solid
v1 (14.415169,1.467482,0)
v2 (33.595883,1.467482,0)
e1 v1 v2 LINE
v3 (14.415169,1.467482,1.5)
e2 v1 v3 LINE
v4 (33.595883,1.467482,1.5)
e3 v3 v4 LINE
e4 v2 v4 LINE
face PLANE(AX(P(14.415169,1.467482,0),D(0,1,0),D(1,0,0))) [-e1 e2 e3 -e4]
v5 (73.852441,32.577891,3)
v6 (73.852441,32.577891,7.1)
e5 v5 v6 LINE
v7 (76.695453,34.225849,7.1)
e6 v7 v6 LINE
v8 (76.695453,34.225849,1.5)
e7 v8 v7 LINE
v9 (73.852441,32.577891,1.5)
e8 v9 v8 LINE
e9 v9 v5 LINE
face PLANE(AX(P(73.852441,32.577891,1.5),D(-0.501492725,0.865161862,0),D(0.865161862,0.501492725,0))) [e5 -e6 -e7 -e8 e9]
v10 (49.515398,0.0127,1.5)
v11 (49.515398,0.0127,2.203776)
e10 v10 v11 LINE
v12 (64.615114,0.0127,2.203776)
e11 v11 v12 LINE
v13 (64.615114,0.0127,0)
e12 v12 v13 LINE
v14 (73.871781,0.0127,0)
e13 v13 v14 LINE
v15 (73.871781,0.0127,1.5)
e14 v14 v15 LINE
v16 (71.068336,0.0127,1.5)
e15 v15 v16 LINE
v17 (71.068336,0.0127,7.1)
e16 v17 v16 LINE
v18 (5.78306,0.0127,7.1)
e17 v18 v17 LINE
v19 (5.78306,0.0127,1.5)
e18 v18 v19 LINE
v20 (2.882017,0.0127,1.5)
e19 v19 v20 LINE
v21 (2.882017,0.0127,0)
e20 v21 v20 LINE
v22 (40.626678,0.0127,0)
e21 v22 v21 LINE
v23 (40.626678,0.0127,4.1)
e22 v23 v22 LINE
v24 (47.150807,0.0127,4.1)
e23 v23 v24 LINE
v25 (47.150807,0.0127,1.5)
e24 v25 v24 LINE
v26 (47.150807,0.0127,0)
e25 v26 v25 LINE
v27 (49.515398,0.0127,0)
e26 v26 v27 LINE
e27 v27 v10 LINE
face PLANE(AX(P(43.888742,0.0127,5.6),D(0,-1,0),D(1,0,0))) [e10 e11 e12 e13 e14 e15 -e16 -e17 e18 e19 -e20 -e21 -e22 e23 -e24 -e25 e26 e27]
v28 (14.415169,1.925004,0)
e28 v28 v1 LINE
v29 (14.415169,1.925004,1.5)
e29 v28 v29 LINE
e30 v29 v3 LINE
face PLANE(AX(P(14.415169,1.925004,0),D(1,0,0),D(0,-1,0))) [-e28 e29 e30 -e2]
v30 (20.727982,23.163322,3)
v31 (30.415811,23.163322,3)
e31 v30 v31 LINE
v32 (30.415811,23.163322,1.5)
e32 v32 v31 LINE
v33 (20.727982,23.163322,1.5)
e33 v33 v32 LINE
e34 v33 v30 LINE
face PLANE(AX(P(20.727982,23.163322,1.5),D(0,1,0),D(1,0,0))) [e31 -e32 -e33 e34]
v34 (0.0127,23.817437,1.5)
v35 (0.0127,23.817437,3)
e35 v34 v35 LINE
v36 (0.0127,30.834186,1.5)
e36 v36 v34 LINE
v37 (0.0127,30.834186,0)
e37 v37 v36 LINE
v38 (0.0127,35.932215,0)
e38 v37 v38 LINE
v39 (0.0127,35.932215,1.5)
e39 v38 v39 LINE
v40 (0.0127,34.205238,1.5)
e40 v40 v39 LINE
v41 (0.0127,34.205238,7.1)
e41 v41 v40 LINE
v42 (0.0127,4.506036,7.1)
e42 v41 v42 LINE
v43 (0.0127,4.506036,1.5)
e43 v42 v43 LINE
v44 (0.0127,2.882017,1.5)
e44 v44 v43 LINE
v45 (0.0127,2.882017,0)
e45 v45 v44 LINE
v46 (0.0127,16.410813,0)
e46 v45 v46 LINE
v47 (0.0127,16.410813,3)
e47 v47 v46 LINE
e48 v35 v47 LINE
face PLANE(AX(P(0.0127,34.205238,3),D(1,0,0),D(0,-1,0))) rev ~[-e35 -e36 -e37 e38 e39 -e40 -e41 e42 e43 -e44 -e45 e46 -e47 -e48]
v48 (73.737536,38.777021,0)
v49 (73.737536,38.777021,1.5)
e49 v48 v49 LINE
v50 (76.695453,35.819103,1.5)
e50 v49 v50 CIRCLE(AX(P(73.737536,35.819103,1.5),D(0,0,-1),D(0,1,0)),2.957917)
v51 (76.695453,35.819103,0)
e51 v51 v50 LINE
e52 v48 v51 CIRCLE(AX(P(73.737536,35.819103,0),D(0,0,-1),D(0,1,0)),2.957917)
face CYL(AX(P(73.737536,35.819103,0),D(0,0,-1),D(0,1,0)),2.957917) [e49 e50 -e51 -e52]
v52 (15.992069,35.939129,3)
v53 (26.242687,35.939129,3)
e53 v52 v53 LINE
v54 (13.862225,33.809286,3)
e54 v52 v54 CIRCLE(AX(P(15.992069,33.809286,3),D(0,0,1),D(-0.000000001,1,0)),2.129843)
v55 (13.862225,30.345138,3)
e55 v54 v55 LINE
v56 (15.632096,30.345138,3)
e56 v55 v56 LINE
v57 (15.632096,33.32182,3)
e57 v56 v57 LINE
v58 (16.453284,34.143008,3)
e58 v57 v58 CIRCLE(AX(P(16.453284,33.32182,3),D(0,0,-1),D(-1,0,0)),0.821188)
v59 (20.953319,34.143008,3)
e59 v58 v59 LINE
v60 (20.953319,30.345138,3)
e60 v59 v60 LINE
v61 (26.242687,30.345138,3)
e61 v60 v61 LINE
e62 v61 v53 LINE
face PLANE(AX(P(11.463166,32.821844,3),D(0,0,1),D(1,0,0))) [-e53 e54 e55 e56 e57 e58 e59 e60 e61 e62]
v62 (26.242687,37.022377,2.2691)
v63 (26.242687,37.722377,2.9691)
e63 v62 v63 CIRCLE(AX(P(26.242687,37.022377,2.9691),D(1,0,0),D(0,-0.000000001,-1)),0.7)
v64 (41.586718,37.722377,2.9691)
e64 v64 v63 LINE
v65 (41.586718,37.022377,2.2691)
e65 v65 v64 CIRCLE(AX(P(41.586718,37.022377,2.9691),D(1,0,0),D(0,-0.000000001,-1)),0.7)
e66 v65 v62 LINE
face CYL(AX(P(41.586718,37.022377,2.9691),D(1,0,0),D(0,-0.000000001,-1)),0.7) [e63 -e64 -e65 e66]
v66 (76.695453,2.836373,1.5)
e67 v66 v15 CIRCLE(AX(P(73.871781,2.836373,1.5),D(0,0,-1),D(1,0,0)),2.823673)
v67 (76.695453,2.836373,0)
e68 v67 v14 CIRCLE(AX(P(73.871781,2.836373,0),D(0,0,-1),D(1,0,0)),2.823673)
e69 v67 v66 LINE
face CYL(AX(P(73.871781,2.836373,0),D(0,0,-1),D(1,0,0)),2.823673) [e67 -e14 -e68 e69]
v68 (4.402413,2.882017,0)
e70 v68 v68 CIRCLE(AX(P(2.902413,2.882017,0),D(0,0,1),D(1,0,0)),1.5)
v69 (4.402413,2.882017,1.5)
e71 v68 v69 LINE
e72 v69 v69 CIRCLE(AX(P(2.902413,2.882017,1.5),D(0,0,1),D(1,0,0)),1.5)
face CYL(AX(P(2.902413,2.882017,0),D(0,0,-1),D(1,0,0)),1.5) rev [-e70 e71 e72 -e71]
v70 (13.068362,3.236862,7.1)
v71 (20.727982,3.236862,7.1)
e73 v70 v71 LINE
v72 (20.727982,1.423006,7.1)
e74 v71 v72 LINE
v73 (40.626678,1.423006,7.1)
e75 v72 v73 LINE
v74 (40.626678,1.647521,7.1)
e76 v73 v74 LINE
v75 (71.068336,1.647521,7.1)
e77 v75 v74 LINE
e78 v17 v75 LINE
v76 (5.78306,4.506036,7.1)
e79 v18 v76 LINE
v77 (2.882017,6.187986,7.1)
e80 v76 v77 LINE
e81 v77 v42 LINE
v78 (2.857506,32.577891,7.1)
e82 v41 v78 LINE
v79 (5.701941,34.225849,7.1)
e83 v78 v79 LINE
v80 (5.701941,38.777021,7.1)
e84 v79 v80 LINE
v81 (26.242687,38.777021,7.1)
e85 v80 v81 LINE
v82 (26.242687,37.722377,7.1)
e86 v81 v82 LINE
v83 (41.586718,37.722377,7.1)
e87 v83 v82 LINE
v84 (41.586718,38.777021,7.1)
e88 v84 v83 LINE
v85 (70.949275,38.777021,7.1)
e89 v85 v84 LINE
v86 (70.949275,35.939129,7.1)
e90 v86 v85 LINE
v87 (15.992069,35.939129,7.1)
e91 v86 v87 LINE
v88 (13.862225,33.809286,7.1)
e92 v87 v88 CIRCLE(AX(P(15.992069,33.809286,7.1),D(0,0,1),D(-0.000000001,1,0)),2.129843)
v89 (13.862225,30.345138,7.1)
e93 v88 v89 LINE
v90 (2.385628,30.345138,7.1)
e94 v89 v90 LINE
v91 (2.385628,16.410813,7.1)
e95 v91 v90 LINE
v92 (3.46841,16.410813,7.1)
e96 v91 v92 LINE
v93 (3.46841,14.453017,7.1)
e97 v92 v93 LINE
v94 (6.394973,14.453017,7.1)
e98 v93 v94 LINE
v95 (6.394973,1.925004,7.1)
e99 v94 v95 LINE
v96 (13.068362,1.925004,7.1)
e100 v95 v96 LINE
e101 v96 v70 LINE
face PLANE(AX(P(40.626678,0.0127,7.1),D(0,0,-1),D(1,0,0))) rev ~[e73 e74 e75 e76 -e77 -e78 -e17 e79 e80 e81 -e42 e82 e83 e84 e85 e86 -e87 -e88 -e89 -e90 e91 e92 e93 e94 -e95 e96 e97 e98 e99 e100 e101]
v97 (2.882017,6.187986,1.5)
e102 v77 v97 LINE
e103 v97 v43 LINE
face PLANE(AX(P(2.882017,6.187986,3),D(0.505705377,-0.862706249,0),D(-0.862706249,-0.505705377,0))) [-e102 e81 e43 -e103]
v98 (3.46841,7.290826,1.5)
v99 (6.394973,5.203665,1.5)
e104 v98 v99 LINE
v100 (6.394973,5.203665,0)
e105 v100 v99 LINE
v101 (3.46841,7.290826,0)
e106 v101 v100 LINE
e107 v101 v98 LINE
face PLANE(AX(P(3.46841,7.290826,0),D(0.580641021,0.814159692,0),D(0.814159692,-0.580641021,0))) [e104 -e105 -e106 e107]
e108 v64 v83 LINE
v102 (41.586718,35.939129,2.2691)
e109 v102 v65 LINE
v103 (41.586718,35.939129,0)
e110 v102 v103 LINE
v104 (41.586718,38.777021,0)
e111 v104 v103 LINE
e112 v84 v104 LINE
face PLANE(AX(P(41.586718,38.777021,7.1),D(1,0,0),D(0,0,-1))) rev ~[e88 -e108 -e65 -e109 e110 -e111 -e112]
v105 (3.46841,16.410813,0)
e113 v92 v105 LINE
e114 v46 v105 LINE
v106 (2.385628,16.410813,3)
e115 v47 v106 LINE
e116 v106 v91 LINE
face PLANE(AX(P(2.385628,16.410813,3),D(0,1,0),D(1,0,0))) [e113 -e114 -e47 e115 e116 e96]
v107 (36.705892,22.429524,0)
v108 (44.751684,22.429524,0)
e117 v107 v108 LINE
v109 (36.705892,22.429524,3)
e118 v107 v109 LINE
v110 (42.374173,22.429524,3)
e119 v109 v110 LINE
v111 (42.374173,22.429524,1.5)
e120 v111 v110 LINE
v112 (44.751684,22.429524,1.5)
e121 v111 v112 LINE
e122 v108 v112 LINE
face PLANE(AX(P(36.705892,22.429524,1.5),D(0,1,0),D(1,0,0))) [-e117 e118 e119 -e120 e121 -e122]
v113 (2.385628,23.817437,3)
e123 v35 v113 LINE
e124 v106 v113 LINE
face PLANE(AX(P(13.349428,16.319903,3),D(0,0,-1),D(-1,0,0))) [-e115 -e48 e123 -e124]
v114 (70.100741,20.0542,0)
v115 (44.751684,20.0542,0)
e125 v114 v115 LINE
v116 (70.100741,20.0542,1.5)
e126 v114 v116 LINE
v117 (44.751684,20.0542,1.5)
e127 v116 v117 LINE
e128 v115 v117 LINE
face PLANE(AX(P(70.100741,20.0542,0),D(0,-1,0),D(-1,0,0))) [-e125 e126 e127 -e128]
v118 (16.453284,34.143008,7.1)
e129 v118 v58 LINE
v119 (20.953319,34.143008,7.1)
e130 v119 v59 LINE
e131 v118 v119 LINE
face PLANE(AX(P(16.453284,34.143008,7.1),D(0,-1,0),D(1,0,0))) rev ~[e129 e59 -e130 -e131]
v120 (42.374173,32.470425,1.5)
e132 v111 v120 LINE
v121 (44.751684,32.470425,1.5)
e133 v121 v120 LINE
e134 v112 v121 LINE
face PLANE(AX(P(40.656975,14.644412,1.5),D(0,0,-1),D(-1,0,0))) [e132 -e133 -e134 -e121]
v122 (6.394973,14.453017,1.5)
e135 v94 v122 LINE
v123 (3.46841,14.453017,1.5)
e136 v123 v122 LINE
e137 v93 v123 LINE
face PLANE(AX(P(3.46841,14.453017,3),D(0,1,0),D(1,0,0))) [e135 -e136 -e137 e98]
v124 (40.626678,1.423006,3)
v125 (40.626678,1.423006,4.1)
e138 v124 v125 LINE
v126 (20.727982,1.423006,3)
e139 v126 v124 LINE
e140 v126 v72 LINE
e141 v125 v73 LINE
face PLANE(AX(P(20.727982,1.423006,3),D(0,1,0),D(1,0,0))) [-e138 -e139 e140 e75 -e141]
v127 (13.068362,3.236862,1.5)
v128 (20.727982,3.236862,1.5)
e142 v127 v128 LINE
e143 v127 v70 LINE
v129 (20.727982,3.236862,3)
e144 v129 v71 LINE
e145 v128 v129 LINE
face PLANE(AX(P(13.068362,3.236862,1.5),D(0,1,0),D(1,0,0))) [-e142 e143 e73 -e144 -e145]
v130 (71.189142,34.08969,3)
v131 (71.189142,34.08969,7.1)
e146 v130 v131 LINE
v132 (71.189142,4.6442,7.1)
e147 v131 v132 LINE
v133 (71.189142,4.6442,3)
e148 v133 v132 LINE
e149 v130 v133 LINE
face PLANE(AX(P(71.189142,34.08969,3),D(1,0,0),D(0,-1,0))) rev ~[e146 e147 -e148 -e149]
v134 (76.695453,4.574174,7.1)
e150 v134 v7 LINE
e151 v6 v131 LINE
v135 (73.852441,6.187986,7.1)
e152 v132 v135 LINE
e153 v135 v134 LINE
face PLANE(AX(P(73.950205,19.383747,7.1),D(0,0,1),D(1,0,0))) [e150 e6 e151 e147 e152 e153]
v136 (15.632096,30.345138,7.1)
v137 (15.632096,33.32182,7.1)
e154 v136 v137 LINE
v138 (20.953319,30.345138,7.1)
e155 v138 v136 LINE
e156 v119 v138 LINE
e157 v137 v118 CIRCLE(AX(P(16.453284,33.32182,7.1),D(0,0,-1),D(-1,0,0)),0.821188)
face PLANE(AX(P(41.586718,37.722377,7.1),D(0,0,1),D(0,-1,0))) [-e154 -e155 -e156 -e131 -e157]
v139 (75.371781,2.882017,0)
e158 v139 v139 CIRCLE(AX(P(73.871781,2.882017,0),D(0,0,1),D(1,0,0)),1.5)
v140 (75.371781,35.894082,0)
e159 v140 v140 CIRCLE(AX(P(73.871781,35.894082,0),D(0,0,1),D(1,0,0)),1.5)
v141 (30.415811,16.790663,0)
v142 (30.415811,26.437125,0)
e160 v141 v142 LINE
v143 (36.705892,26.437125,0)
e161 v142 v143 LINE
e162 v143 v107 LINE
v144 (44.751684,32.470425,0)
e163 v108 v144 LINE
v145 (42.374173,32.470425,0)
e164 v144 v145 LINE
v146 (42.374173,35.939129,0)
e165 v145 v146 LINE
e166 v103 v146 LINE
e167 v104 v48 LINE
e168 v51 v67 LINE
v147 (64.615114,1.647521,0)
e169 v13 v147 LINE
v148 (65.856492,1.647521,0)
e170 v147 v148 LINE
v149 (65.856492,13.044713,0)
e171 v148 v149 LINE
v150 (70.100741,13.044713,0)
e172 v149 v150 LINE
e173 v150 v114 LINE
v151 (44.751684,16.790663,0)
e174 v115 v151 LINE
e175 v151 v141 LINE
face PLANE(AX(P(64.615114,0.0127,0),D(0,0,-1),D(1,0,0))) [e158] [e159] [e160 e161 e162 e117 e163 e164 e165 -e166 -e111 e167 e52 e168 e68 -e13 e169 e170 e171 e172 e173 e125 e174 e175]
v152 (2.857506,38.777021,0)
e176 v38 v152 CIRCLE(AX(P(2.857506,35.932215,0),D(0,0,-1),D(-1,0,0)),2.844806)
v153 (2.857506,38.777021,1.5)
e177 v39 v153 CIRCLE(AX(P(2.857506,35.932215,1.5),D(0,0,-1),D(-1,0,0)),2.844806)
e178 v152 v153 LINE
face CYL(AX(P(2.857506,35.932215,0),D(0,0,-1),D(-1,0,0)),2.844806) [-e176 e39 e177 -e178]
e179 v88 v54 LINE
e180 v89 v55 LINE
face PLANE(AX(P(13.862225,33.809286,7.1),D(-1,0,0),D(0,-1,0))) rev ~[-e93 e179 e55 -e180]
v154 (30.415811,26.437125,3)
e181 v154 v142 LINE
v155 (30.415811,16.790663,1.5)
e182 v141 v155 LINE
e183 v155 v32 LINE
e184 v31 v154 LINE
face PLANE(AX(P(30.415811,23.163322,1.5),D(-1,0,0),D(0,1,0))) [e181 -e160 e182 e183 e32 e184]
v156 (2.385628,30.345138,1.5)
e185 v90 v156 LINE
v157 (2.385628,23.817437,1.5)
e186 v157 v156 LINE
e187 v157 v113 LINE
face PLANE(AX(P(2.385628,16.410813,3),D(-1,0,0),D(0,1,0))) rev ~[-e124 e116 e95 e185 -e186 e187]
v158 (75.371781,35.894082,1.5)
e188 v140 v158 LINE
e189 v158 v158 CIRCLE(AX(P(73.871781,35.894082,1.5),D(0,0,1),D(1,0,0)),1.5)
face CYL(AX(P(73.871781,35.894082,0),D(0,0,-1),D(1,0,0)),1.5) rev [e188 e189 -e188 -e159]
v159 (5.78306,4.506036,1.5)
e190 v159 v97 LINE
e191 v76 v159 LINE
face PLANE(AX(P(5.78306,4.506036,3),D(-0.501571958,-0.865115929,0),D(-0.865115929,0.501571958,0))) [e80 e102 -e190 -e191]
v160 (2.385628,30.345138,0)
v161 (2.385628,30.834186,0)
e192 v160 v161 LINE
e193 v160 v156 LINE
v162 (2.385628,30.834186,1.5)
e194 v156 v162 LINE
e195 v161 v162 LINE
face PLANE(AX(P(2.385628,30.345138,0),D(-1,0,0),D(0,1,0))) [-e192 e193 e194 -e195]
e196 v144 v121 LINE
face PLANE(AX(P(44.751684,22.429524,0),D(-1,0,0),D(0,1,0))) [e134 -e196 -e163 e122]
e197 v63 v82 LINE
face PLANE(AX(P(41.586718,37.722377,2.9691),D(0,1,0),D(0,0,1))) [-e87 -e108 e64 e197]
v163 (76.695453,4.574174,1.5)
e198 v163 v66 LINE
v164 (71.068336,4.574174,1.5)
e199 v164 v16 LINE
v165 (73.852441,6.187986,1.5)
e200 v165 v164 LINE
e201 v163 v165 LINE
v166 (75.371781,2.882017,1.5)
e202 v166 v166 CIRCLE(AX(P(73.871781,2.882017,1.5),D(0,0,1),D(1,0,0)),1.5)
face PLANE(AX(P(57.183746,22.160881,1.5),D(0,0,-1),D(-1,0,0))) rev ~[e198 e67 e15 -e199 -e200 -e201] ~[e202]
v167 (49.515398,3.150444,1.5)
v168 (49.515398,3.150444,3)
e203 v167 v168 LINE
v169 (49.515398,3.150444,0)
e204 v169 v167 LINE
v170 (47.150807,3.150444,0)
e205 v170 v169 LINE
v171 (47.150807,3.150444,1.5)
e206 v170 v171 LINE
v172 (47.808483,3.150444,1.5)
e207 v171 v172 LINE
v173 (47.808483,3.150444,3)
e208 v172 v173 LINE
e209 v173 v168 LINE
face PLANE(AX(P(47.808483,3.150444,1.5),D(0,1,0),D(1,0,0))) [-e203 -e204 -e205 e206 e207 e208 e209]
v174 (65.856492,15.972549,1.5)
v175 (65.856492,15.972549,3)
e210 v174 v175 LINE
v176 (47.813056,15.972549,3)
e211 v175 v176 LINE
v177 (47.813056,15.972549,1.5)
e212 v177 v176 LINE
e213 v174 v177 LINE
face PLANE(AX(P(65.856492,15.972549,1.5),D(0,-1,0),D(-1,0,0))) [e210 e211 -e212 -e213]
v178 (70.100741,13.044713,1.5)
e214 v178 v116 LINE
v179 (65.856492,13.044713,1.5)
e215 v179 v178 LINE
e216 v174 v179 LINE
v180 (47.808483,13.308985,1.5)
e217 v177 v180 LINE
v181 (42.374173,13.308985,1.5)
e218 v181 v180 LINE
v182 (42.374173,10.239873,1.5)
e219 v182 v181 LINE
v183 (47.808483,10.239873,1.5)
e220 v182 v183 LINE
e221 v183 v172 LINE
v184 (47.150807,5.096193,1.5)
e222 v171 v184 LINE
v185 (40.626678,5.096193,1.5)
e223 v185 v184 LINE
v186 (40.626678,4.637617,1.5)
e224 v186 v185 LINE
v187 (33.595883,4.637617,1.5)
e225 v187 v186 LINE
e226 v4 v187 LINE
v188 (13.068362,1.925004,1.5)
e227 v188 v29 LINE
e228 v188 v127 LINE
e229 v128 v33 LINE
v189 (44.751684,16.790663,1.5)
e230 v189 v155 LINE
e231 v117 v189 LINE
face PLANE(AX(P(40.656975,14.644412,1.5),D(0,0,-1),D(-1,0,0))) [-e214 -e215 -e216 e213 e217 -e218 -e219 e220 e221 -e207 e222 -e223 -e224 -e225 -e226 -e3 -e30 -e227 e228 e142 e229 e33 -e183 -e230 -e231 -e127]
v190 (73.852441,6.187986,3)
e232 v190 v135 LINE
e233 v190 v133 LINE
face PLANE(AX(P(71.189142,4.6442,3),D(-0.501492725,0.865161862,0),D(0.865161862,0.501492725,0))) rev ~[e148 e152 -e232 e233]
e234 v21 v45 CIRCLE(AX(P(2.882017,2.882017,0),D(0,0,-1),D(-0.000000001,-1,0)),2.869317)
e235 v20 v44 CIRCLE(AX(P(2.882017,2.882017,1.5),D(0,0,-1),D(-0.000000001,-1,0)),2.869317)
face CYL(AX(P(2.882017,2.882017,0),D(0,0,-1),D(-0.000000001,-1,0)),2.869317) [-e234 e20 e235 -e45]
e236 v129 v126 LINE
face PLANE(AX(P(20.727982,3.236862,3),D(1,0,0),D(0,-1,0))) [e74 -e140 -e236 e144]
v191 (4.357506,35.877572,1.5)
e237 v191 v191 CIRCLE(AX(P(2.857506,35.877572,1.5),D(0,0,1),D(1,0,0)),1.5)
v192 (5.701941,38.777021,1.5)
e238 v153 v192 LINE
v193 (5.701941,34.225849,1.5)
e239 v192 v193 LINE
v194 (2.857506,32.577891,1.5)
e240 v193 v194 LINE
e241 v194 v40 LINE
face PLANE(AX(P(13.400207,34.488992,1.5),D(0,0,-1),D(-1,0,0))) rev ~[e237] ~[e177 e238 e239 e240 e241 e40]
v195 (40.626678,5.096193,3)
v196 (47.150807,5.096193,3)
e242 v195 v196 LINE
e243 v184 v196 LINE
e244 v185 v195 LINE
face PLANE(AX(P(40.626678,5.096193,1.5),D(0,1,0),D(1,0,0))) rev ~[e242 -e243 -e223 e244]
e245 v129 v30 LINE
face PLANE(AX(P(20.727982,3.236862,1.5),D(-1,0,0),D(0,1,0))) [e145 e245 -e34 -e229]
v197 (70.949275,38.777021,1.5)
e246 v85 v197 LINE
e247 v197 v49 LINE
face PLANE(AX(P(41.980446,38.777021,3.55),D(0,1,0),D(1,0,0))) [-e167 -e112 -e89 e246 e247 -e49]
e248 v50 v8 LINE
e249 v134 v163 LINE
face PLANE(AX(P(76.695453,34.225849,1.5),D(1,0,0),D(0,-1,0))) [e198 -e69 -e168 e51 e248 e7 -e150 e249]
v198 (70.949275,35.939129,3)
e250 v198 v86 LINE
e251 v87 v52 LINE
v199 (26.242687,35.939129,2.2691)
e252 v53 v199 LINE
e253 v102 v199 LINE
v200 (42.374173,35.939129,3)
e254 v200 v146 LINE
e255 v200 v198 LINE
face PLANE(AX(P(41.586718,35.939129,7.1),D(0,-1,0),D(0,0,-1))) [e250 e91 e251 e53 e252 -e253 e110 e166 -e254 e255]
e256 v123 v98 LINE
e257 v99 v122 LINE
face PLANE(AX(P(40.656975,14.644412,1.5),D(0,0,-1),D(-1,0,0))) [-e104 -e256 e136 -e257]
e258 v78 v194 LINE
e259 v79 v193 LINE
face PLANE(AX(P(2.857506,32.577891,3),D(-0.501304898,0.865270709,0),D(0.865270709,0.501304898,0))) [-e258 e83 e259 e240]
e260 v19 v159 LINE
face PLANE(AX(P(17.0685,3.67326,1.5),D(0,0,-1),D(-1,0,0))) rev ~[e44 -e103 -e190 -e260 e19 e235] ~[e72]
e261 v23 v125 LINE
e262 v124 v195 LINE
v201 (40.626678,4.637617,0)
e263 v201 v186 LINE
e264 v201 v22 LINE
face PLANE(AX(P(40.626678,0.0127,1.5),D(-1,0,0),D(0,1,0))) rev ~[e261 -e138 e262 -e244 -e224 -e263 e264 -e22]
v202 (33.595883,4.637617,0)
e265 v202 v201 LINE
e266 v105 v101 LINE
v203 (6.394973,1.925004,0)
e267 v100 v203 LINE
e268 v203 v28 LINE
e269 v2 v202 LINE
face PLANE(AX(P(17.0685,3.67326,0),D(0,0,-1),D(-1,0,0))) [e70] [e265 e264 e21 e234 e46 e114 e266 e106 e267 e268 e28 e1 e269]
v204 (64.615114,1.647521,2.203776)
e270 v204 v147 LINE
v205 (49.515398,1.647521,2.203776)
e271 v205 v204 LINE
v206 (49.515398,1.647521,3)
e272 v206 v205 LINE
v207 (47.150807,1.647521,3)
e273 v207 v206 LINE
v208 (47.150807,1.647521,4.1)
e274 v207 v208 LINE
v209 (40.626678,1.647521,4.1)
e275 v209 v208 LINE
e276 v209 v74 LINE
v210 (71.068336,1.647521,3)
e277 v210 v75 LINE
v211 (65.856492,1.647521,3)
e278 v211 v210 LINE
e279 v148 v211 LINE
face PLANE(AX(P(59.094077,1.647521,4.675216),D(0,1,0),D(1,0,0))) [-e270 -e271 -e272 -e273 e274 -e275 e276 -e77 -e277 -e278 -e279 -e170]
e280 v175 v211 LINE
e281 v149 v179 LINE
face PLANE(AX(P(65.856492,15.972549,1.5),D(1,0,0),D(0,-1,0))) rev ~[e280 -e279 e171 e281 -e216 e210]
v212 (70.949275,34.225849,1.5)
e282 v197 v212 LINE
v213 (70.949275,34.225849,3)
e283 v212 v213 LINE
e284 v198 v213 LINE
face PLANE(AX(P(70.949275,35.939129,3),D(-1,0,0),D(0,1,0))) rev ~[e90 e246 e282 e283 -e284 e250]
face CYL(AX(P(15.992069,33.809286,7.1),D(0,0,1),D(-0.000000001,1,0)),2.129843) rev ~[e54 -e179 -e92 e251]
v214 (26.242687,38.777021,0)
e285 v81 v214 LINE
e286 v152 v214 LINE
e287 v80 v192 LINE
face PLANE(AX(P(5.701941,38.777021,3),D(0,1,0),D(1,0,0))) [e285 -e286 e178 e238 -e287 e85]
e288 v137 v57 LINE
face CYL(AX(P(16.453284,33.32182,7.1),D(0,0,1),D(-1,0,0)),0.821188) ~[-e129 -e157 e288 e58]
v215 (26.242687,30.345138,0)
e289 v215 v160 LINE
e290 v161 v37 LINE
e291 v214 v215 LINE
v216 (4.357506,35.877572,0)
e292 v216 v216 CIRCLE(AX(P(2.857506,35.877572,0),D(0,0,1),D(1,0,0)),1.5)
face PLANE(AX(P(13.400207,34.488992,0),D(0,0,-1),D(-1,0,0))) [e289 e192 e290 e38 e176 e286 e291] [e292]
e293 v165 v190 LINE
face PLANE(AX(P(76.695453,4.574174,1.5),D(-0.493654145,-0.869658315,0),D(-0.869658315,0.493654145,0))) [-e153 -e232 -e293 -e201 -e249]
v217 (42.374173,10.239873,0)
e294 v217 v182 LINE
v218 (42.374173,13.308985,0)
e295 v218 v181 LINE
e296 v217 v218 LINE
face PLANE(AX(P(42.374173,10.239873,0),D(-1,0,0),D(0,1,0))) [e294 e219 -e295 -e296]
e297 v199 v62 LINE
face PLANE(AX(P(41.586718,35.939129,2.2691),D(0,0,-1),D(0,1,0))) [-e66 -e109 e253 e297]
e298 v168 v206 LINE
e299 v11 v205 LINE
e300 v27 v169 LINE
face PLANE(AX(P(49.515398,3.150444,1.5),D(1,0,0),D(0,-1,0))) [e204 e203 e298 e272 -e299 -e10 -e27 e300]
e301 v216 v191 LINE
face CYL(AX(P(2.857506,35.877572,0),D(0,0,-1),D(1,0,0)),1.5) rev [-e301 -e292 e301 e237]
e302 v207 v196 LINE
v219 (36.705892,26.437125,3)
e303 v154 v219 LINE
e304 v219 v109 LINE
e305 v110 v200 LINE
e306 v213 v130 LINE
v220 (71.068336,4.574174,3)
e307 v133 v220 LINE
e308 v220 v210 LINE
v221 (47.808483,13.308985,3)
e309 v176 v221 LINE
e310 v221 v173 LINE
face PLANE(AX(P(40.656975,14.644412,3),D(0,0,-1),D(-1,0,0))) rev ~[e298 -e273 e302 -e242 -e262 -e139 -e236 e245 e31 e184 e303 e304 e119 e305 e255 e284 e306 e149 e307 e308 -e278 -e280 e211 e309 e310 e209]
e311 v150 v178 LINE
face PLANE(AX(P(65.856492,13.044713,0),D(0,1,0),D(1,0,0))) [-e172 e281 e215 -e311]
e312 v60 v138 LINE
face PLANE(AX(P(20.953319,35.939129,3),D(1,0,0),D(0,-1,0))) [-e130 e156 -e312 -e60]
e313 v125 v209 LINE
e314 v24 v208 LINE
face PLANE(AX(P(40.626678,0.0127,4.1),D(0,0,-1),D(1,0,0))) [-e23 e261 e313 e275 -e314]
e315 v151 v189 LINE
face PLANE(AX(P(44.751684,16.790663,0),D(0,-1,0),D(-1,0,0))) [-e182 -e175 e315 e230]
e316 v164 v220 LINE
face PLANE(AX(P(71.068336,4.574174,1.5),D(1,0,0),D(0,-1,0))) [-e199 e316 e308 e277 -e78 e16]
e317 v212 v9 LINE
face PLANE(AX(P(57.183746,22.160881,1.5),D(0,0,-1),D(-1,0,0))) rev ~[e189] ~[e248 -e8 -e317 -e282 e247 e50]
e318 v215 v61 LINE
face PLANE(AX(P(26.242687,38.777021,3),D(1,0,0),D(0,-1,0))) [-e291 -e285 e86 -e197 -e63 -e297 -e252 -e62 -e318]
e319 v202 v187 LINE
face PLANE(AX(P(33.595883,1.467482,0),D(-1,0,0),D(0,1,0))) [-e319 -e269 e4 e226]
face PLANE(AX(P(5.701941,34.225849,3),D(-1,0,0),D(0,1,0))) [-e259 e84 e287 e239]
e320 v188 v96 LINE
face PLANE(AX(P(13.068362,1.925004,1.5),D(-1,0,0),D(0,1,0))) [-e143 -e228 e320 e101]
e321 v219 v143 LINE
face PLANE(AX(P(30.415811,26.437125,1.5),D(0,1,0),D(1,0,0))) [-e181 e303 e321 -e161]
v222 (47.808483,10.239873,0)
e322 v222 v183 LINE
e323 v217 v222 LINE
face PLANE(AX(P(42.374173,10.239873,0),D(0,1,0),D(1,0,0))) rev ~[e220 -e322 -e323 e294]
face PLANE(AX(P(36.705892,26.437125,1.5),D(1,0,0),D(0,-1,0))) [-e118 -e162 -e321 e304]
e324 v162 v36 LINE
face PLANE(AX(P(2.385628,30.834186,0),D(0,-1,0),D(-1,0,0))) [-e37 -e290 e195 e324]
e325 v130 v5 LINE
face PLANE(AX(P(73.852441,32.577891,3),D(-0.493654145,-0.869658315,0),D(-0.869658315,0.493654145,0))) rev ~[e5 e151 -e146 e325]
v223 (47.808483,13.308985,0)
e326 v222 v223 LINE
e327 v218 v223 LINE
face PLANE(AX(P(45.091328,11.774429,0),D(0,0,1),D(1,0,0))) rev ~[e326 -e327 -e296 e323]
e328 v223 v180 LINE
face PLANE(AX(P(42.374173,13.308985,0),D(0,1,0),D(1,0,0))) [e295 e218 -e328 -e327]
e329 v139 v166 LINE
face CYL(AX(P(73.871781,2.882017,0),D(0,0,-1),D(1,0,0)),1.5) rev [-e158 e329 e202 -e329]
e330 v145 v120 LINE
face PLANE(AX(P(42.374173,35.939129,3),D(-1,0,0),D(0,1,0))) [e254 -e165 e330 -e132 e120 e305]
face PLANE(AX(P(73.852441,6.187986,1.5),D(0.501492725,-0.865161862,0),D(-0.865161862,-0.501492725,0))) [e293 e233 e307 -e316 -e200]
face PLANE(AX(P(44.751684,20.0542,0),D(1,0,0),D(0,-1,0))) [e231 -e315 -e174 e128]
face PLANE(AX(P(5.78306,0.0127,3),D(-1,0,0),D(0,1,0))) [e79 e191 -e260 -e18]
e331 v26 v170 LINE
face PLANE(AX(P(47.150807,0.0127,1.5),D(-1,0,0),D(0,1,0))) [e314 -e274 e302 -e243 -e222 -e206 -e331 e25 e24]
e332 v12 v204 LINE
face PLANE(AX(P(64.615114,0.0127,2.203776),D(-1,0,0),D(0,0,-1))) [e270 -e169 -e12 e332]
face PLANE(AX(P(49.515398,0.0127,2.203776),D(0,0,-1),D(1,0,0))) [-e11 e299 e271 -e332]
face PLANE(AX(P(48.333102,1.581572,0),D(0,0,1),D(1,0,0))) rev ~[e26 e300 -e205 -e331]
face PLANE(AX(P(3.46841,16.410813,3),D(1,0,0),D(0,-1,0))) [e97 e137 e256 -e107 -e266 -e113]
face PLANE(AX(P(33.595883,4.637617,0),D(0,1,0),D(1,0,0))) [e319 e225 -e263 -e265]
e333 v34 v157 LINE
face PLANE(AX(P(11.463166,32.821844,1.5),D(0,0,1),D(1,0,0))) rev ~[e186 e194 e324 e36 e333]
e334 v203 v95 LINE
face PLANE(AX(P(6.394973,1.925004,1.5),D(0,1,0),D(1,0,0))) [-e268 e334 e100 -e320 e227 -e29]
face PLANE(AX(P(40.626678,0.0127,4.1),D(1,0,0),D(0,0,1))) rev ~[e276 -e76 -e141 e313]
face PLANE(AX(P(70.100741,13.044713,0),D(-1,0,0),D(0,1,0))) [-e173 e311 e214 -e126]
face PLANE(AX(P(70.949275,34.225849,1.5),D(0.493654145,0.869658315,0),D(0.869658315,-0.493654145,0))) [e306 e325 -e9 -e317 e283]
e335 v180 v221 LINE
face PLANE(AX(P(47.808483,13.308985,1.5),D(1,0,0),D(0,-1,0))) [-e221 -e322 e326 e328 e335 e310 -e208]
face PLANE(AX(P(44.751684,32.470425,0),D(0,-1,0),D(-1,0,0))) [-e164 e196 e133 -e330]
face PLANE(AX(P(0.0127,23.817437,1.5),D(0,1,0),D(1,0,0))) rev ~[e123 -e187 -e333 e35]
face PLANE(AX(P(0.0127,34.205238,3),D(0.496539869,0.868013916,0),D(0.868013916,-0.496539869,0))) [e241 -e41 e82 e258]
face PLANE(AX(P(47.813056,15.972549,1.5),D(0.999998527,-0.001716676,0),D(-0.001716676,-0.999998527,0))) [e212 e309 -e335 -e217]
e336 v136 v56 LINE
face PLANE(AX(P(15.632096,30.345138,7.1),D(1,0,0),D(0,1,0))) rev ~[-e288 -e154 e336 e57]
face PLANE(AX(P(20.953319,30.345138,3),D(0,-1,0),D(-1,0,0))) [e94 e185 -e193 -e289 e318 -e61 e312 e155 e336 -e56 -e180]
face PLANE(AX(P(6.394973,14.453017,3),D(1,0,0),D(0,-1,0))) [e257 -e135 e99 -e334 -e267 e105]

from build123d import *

# Parameters (mm, degrees)
SKETCH_1_R          = 1.5
EXTRUDE_1_DEPTH     = 1.5
EXTRUDE_1_2_DEPTH   = 1.5
EXTRUDE_1_3_DEPTH   = 1.5
SKETCH_1_W          = 5.434310226
SKETCH_1_H          = 3.069112814
EXTRUDE_1_4_DEPTH   = 1.5
SKETCH_1_W_2        = 2.364591514
SKETCH_1_H_2        = 3.137743857
EXTRUDE_1_5_DEPTH   = 1.5
EXTRUDE_2_DEPTH     = 1.5
SKETCH_5_W          = 28.57510237
SKETCH_5_H          = 2.837891342
SKETCH_5_W_2        = 23.917529704
SKETCH_5_H_2        = 1.634820582
EXTRUDE_3_DEPTH     = 4.1
SKETCH_6_W          = 0.787454543
SKETCH_6_H          = 7.1
EXTRUDE_4_DEPTH     = 2.837891342
EXTRUDE_5_DEPTH     = 15.344031237
CUT_EXTRUDE_1_DEPTH = 4.1
EXTRUDE_6_DEPTH     = 1.634820582
EXTRUDE_7_REACH     = 88.228
SKETCH_10_W         = 6.524128353
SKETCH_10_H         = 3


with BuildPart() as part:
    # 草图1 → 凸台-拉伸1 (new body)
    with BuildSketch(Plane.XY):
        with BuildLine():
            Line((42.374172917, 38.777020574), (73.737536195, 38.777020574))
            ThreePointArc((73.737536195, 38.777020574), (75.829099502, 37.910666686), (76.695453391, 35.819103378))
            Line((76.695453391, 35.819103378), (76.695453391, 2.836372873))
            ThreePointArc((76.695453391, 2.836372873), (75.868418762, 0.839734655), (73.871780544, 0.012700025))
            Line((73.871780544, 0.012700025), (65.856491688, 0.012700025))
            Line((65.856491688, 0.012700025), (65.856491688, 13.044712807))
            Line((65.856491688, 13.044712807), (70.100741351, 13.044712807))
            Line((70.100741351, 13.044712807), (70.100741351, 20.05420005))
            Line((70.100741351, 20.05420005), (44.751683648, 20.05420005))
            Line((44.751683648, 20.05420005), (44.751683648, 16.790663202))
            Line((44.751683648, 16.790663202), (30.415811039, 16.790663202))
            Line((30.415811039, 16.790663202), (30.415811039, 26.437124649))
            Line((30.415811039, 26.437124649), (36.705891976, 26.437124649))
            Line((36.705891976, 26.437124649), (36.705891976, 22.429523721))
            Line((36.705891976, 22.429523721), (44.751683648, 22.429523721))
            Line((44.751683648, 22.429523721), (44.751683648, 32.470424916))
            Line((44.751683648, 32.470424916), (42.374172917, 32.470424916))
            Line((42.374172917, 32.470424916), (42.374172917, 38.777020574))
        make_face()
        with Locations((73.871780544, 2.882016764)):
            Circle(SKETCH_1_R, mode=Mode.SUBTRACT)
        with Locations((73.871780544, 35.894081788)):
            Circle(SKETCH_1_R, mode=Mode.SUBTRACT)
    extrude(amount=EXTRUDE_1_DEPTH)



with BuildPart() as body_2:
    # 草图1 → Extrude 1 2 (new body)
    with BuildSketch(Plane.XY):
        with BuildLine():
            Line((20.832405991, 0.012700025), (2.882016764, 0.012700025))
            ThreePointArc((2.882016764, 0.012700025), (0.853103441, 0.853103441), (0.012700025, 2.882016764))
            Line((0.012700025, 2.882016764), (0.012700025, 16.410813367))
            Line((0.012700025, 16.410813367), (3.46840969, 16.410813367))
            Line((3.46840969, 16.410813367), (3.46840969, 7.290825892))
            Line((3.46840969, 7.290825892), (6.394972835, 5.203664579))
            Line((6.394972835, 5.203664579), (6.394972835, 1.925003773))
            Line((6.394972835, 1.925003773), (14.41516881, 1.925003773))
            Line((14.41516881, 1.925003773), (14.41516881, 1.467481791))
            Line((14.41516881, 1.467481791), (20.832405991, 1.467481791))
            Line((20.832405991, 1.467481791), (33.595883095, 1.467481791))
            Line((33.595883095, 1.467481791), (33.595883095, 4.637617134))
            Line((33.595883095, 4.637617134), (40.626678312, 4.637617134))
            Line((40.626678312, 4.637617134), (40.626678312, 0.012700025))
            Line((40.626678312, 0.012700025), (33.595883095, 0.012700025))
            Line((33.595883095, 0.012700025), (20.832405991, 0.012700025))
        make_face()
        with Locations((2.902413005, 2.882016764)):
            Circle(SKETCH_1_R, mode=Mode.SUBTRACT)
    extrude(amount=EXTRUDE_1_2_DEPTH)


with BuildPart() as body_3:
    # 草图1 → Extrude 1 3 (new body)
    with BuildSketch(Plane.XY):
        with BuildLine():
            Line((2.857505715, 38.777020574), (26.242687137, 38.777020574))
            Line((26.242687137, 38.777020574), (26.242687137, 30.345137506))
            Line((26.242687137, 30.345137506), (2.385627897, 30.345137506))
            Line((2.385627897, 30.345137506), (2.385627897, 30.834185958))
            Line((2.385627897, 30.834185958), (0.012700025, 30.834185958))
            Line((0.012700025, 30.834185958), (0.012700025, 35.932214884))
            ThreePointArc((0.012700025, 35.932214884), (0.845924321, 37.943796279), (2.857505715, 38.777020574))
        make_face()
        with Locations((2.857505715, 35.877571755)):
            Circle(SKETCH_1_R, mode=Mode.SUBTRACT)
    extrude(amount=EXTRUDE_1_3_DEPTH)


with BuildPart() as body_4:
    # 草图1 → Extrude 1 4 (new body)
    with BuildSketch(Plane.XY):
        with Locations((45.09132803, 11.774429054)):
            Rectangle(SKETCH_1_W, SKETCH_1_H)
    extrude(amount=EXTRUDE_1_4_DEPTH)


with BuildPart() as body_5:
    # 草图1 → Extrude 1 5 (new body)
    with BuildSketch(Plane.XY):
        with Locations((48.333102422, 1.581571954)):
            Rectangle(SKETCH_1_W_2, SKETCH_1_H_2)
    extrude(amount=EXTRUDE_1_5_DEPTH)


with BuildPart() as part_1:
    add(part.part)

    add(body_2.part)  # 凸台-拉伸2 merges body 2

    add(body_3.part)  # 凸台-拉伸2 merges body 3

    add(body_4.part)  # 凸台-拉伸2 merges body 4

    add(body_5.part)  # 凸台-拉伸2 merges body 5
    # 草图3 → 凸台-拉伸2 (add)
    with BuildSketch(Plane.XY.offset(1.5)):
        Polygon((0.012700025, 34.205237949), (0.012700025, 30.834185958), (0.012700025, 23.817436756), (2.385627897, 23.817436756), (2.385627897, 30.345137506), (26.242687137, 30.345137506), (26.242687137, 38.777020574), (5.701940925, 38.777020574), (5.701940925, 34.225848847), (2.857505715, 32.577891407), align=None)
        Polygon((42.374172917, 38.777020574), (70.949275287, 38.777020574), (70.949275287, 34.225848847), (73.852441207, 32.577891407), (76.695453391, 34.225848847), (76.695453391, 4.574174261), (73.852441207, 6.187985945), (71.068336369, 4.574174261), (71.068336369, 0.012700025), (65.856491688, 0.012700025), (65.856491688, 13.044712807), (65.856491688, 15.972548736), (47.813055626, 15.972548736), (47.808483143, 13.308985461), (47.808483143, 3.150443882), (49.515398179, 3.150443882), (49.515398179, 0.012700025), (47.150806665, 0.012700025), (47.150806665, 5.096192633), (42.374172917, 5.096192633), (40.626678312, 5.096192633), (40.626678312, 4.637617134), (40.626678312, 0.012700025), (40.056713733, 0.012700025), (5.783059857, 0.012700025), (5.783059857, 4.506035797), (2.882016764, 6.187985945), (0.012700025, 4.506035797), (0.012700025, 16.410813367), (3.46840969, 16.410813367), (3.46840969, 14.453016608), (6.394972835, 14.453016608), (6.394972835, 10.104845947), (6.394972835, 5.203664579), (6.394972835, 1.925003773), (13.068362142, 1.925003773), (13.068362142, 3.23686167), (20.727981914, 3.23686167), (20.727981914, 23.163322327), (30.415811039, 23.163322327), (30.415811039, 26.437124649), (36.705891976, 26.437124649), (36.705891976, 22.429523721), (42.374172917, 22.429523721), align=None)
    extrude(amount=EXTRUDE_2_DEPTH)

    # 草图5 → 凸台-拉伸3 (add)
    with BuildSketch(Plane.XY.offset(3)):
        with Locations((56.661724102, 37.358074903)):
            Rectangle(SKETCH_5_W, SKETCH_5_H)
        Polygon((76.695453391, 34.225848847), (73.852441207, 32.577891407), (71.189142318, 34.089690367), (71.189142318, 4.64419966), (73.852441207, 6.187985945), (76.695453391, 4.574174261), align=None)
        with Locations((59.109571517, 0.830110316)):
            Rectangle(SKETCH_5_W_2, SKETCH_5_H_2)
        Polygon((40.626678312, 0.012700025), (6.394972835, 0.012700025), (5.783059857, 0.012700025), (5.783059857, 4.506035797), (2.882016764, 6.187985945), (0.012700025, 4.506035797), (0.012700025, 16.410813367), (0.012700025, 23.817436756), (0.012700025, 34.205237949), (2.857505715, 32.577891407), (5.701940925, 34.225848847), (5.701940925, 38.777020574), (26.242687137, 38.777020574), (26.242687137, 35.939129232), (20.953318595, 35.939129232), (20.953318595, 30.345137506), (2.385627897, 30.345137506), (2.385627897, 23.817436756), (2.385627897, 16.410813367), (3.46840969, 16.410813367), (3.46840969, 14.453016608), (6.394972835, 14.453016608), (6.394972835, 1.925003773), (13.068362142, 1.925003773), (13.068362142, 3.23686167), (20.727981914, 3.23686167), (20.727981914, 1.423006096), (40.626678312, 1.423006096), align=None)
    extrude(amount=EXTRUDE_3_DEPTH)

    # 草图6 → 凸台-拉伸4 (add)
    with BuildSketch(Plane(origin=(0, 38.777020574, 0), x_dir=(1, 0, 0), z_dir=(0, 1, 0))):
        with Locations((41.980445645, -3.55)):
            Rectangle(SKETCH_6_W, SKETCH_6_H)
    extrude(amount=-EXTRUDE_4_DEPTH)

    # 草图7 → 凸台-拉伸5 (add)
    with BuildSketch(Plane.ZY.offset(-41.586718374)):
        with BuildLine():
            Line((7.1, 35.939129232), (2.269100337, 35.939129232))
            Line((2.269100337, 35.939129232), (2.269100337, 37.022377445))
            ThreePointArc((2.269100337, 37.022377445), (2.47412559, 37.517352192), (2.969100337, 37.722377445))
            Line((2.969100337, 37.722377445), (7.1, 37.722377445))
            Line((7.1, 37.722377445), (7.1, 35.939129232))
        make_face()
    extrude(amount=EXTRUDE_5_DEPTH)

    # 草图8 → 切除-拉伸1 (cut)
    with BuildSketch(Plane.XY.offset(7.1)):
        with BuildLine():
            Line((20.953318595, 35.939129232), (15.992068639, 35.939129232))
            ThreePointArc((15.992068639, 35.939129232), (14.486042091, 35.31531261), (13.862225469, 33.809286062))
            Line((13.862225469, 33.809286062), (13.862225469, 30.345137506))
            Line((13.862225469, 30.345137506), (15.632095679, 30.345137506))
            Line((15.632095679, 30.345137506), (15.632095679, 33.321819521))
            ThreePointArc((15.632095679, 33.321819521), (15.872616168, 33.902487347), (16.453283994, 34.143007835))
            Line((16.453283994, 34.143007835), (20.953318595, 34.143007835))
            Line((20.953318595, 34.143007835), (20.953318595, 35.939129232))
        make_face()
    extrude(amount=-CUT_EXTRUDE_1_DEPTH, mode=Mode.SUBTRACT)

    # 草图9 → 凸台-拉伸6 (add)
    with BuildSketch(Plane.XZ.offset(-0.012700025)):
        Polygon((49.515398179, 2.203775642), (64.615113945, 2.203775642), (64.615113945, 0), (65.856491688, 0), (65.856491688, 3), (49.515398179, 3), align=None)
    extrude(amount=-EXTRUDE_6_DEPTH)

    # 凸台-拉伸7: up to this face of the body (flat: up to its plane)
    extrude_7_end = Plane(part_1.part.faces().sort_by_distance((59.094076967, 1.647520607, 4.675215674))[0])
    # 草图10 → 凸台-拉伸7 (add, up to the picked face)
    with BuildSketch(Plane.XZ.offset(-0.012700025), mode=Mode.PRIVATE) as extrude_7_sk1:
        with Locations((43.888742489, 5.6)):
            Rectangle(SKETCH_10_W, SKETCH_10_H)
    extrude_7_tool1 = split(extrude(extrude_7_sk1.sketch, amount=-EXTRUDE_7_REACH, mode=Mode.PRIVATE), bisect_by=extrude_7_end, keep=Keep.BOTH, mode=Mode.PRIVATE)
    add(extrude_7_tool1.solids().sort_by(Axis((43.888742, 0.0127, 5.6), (0, 1, 0)))[0])


solid = part_1.part
